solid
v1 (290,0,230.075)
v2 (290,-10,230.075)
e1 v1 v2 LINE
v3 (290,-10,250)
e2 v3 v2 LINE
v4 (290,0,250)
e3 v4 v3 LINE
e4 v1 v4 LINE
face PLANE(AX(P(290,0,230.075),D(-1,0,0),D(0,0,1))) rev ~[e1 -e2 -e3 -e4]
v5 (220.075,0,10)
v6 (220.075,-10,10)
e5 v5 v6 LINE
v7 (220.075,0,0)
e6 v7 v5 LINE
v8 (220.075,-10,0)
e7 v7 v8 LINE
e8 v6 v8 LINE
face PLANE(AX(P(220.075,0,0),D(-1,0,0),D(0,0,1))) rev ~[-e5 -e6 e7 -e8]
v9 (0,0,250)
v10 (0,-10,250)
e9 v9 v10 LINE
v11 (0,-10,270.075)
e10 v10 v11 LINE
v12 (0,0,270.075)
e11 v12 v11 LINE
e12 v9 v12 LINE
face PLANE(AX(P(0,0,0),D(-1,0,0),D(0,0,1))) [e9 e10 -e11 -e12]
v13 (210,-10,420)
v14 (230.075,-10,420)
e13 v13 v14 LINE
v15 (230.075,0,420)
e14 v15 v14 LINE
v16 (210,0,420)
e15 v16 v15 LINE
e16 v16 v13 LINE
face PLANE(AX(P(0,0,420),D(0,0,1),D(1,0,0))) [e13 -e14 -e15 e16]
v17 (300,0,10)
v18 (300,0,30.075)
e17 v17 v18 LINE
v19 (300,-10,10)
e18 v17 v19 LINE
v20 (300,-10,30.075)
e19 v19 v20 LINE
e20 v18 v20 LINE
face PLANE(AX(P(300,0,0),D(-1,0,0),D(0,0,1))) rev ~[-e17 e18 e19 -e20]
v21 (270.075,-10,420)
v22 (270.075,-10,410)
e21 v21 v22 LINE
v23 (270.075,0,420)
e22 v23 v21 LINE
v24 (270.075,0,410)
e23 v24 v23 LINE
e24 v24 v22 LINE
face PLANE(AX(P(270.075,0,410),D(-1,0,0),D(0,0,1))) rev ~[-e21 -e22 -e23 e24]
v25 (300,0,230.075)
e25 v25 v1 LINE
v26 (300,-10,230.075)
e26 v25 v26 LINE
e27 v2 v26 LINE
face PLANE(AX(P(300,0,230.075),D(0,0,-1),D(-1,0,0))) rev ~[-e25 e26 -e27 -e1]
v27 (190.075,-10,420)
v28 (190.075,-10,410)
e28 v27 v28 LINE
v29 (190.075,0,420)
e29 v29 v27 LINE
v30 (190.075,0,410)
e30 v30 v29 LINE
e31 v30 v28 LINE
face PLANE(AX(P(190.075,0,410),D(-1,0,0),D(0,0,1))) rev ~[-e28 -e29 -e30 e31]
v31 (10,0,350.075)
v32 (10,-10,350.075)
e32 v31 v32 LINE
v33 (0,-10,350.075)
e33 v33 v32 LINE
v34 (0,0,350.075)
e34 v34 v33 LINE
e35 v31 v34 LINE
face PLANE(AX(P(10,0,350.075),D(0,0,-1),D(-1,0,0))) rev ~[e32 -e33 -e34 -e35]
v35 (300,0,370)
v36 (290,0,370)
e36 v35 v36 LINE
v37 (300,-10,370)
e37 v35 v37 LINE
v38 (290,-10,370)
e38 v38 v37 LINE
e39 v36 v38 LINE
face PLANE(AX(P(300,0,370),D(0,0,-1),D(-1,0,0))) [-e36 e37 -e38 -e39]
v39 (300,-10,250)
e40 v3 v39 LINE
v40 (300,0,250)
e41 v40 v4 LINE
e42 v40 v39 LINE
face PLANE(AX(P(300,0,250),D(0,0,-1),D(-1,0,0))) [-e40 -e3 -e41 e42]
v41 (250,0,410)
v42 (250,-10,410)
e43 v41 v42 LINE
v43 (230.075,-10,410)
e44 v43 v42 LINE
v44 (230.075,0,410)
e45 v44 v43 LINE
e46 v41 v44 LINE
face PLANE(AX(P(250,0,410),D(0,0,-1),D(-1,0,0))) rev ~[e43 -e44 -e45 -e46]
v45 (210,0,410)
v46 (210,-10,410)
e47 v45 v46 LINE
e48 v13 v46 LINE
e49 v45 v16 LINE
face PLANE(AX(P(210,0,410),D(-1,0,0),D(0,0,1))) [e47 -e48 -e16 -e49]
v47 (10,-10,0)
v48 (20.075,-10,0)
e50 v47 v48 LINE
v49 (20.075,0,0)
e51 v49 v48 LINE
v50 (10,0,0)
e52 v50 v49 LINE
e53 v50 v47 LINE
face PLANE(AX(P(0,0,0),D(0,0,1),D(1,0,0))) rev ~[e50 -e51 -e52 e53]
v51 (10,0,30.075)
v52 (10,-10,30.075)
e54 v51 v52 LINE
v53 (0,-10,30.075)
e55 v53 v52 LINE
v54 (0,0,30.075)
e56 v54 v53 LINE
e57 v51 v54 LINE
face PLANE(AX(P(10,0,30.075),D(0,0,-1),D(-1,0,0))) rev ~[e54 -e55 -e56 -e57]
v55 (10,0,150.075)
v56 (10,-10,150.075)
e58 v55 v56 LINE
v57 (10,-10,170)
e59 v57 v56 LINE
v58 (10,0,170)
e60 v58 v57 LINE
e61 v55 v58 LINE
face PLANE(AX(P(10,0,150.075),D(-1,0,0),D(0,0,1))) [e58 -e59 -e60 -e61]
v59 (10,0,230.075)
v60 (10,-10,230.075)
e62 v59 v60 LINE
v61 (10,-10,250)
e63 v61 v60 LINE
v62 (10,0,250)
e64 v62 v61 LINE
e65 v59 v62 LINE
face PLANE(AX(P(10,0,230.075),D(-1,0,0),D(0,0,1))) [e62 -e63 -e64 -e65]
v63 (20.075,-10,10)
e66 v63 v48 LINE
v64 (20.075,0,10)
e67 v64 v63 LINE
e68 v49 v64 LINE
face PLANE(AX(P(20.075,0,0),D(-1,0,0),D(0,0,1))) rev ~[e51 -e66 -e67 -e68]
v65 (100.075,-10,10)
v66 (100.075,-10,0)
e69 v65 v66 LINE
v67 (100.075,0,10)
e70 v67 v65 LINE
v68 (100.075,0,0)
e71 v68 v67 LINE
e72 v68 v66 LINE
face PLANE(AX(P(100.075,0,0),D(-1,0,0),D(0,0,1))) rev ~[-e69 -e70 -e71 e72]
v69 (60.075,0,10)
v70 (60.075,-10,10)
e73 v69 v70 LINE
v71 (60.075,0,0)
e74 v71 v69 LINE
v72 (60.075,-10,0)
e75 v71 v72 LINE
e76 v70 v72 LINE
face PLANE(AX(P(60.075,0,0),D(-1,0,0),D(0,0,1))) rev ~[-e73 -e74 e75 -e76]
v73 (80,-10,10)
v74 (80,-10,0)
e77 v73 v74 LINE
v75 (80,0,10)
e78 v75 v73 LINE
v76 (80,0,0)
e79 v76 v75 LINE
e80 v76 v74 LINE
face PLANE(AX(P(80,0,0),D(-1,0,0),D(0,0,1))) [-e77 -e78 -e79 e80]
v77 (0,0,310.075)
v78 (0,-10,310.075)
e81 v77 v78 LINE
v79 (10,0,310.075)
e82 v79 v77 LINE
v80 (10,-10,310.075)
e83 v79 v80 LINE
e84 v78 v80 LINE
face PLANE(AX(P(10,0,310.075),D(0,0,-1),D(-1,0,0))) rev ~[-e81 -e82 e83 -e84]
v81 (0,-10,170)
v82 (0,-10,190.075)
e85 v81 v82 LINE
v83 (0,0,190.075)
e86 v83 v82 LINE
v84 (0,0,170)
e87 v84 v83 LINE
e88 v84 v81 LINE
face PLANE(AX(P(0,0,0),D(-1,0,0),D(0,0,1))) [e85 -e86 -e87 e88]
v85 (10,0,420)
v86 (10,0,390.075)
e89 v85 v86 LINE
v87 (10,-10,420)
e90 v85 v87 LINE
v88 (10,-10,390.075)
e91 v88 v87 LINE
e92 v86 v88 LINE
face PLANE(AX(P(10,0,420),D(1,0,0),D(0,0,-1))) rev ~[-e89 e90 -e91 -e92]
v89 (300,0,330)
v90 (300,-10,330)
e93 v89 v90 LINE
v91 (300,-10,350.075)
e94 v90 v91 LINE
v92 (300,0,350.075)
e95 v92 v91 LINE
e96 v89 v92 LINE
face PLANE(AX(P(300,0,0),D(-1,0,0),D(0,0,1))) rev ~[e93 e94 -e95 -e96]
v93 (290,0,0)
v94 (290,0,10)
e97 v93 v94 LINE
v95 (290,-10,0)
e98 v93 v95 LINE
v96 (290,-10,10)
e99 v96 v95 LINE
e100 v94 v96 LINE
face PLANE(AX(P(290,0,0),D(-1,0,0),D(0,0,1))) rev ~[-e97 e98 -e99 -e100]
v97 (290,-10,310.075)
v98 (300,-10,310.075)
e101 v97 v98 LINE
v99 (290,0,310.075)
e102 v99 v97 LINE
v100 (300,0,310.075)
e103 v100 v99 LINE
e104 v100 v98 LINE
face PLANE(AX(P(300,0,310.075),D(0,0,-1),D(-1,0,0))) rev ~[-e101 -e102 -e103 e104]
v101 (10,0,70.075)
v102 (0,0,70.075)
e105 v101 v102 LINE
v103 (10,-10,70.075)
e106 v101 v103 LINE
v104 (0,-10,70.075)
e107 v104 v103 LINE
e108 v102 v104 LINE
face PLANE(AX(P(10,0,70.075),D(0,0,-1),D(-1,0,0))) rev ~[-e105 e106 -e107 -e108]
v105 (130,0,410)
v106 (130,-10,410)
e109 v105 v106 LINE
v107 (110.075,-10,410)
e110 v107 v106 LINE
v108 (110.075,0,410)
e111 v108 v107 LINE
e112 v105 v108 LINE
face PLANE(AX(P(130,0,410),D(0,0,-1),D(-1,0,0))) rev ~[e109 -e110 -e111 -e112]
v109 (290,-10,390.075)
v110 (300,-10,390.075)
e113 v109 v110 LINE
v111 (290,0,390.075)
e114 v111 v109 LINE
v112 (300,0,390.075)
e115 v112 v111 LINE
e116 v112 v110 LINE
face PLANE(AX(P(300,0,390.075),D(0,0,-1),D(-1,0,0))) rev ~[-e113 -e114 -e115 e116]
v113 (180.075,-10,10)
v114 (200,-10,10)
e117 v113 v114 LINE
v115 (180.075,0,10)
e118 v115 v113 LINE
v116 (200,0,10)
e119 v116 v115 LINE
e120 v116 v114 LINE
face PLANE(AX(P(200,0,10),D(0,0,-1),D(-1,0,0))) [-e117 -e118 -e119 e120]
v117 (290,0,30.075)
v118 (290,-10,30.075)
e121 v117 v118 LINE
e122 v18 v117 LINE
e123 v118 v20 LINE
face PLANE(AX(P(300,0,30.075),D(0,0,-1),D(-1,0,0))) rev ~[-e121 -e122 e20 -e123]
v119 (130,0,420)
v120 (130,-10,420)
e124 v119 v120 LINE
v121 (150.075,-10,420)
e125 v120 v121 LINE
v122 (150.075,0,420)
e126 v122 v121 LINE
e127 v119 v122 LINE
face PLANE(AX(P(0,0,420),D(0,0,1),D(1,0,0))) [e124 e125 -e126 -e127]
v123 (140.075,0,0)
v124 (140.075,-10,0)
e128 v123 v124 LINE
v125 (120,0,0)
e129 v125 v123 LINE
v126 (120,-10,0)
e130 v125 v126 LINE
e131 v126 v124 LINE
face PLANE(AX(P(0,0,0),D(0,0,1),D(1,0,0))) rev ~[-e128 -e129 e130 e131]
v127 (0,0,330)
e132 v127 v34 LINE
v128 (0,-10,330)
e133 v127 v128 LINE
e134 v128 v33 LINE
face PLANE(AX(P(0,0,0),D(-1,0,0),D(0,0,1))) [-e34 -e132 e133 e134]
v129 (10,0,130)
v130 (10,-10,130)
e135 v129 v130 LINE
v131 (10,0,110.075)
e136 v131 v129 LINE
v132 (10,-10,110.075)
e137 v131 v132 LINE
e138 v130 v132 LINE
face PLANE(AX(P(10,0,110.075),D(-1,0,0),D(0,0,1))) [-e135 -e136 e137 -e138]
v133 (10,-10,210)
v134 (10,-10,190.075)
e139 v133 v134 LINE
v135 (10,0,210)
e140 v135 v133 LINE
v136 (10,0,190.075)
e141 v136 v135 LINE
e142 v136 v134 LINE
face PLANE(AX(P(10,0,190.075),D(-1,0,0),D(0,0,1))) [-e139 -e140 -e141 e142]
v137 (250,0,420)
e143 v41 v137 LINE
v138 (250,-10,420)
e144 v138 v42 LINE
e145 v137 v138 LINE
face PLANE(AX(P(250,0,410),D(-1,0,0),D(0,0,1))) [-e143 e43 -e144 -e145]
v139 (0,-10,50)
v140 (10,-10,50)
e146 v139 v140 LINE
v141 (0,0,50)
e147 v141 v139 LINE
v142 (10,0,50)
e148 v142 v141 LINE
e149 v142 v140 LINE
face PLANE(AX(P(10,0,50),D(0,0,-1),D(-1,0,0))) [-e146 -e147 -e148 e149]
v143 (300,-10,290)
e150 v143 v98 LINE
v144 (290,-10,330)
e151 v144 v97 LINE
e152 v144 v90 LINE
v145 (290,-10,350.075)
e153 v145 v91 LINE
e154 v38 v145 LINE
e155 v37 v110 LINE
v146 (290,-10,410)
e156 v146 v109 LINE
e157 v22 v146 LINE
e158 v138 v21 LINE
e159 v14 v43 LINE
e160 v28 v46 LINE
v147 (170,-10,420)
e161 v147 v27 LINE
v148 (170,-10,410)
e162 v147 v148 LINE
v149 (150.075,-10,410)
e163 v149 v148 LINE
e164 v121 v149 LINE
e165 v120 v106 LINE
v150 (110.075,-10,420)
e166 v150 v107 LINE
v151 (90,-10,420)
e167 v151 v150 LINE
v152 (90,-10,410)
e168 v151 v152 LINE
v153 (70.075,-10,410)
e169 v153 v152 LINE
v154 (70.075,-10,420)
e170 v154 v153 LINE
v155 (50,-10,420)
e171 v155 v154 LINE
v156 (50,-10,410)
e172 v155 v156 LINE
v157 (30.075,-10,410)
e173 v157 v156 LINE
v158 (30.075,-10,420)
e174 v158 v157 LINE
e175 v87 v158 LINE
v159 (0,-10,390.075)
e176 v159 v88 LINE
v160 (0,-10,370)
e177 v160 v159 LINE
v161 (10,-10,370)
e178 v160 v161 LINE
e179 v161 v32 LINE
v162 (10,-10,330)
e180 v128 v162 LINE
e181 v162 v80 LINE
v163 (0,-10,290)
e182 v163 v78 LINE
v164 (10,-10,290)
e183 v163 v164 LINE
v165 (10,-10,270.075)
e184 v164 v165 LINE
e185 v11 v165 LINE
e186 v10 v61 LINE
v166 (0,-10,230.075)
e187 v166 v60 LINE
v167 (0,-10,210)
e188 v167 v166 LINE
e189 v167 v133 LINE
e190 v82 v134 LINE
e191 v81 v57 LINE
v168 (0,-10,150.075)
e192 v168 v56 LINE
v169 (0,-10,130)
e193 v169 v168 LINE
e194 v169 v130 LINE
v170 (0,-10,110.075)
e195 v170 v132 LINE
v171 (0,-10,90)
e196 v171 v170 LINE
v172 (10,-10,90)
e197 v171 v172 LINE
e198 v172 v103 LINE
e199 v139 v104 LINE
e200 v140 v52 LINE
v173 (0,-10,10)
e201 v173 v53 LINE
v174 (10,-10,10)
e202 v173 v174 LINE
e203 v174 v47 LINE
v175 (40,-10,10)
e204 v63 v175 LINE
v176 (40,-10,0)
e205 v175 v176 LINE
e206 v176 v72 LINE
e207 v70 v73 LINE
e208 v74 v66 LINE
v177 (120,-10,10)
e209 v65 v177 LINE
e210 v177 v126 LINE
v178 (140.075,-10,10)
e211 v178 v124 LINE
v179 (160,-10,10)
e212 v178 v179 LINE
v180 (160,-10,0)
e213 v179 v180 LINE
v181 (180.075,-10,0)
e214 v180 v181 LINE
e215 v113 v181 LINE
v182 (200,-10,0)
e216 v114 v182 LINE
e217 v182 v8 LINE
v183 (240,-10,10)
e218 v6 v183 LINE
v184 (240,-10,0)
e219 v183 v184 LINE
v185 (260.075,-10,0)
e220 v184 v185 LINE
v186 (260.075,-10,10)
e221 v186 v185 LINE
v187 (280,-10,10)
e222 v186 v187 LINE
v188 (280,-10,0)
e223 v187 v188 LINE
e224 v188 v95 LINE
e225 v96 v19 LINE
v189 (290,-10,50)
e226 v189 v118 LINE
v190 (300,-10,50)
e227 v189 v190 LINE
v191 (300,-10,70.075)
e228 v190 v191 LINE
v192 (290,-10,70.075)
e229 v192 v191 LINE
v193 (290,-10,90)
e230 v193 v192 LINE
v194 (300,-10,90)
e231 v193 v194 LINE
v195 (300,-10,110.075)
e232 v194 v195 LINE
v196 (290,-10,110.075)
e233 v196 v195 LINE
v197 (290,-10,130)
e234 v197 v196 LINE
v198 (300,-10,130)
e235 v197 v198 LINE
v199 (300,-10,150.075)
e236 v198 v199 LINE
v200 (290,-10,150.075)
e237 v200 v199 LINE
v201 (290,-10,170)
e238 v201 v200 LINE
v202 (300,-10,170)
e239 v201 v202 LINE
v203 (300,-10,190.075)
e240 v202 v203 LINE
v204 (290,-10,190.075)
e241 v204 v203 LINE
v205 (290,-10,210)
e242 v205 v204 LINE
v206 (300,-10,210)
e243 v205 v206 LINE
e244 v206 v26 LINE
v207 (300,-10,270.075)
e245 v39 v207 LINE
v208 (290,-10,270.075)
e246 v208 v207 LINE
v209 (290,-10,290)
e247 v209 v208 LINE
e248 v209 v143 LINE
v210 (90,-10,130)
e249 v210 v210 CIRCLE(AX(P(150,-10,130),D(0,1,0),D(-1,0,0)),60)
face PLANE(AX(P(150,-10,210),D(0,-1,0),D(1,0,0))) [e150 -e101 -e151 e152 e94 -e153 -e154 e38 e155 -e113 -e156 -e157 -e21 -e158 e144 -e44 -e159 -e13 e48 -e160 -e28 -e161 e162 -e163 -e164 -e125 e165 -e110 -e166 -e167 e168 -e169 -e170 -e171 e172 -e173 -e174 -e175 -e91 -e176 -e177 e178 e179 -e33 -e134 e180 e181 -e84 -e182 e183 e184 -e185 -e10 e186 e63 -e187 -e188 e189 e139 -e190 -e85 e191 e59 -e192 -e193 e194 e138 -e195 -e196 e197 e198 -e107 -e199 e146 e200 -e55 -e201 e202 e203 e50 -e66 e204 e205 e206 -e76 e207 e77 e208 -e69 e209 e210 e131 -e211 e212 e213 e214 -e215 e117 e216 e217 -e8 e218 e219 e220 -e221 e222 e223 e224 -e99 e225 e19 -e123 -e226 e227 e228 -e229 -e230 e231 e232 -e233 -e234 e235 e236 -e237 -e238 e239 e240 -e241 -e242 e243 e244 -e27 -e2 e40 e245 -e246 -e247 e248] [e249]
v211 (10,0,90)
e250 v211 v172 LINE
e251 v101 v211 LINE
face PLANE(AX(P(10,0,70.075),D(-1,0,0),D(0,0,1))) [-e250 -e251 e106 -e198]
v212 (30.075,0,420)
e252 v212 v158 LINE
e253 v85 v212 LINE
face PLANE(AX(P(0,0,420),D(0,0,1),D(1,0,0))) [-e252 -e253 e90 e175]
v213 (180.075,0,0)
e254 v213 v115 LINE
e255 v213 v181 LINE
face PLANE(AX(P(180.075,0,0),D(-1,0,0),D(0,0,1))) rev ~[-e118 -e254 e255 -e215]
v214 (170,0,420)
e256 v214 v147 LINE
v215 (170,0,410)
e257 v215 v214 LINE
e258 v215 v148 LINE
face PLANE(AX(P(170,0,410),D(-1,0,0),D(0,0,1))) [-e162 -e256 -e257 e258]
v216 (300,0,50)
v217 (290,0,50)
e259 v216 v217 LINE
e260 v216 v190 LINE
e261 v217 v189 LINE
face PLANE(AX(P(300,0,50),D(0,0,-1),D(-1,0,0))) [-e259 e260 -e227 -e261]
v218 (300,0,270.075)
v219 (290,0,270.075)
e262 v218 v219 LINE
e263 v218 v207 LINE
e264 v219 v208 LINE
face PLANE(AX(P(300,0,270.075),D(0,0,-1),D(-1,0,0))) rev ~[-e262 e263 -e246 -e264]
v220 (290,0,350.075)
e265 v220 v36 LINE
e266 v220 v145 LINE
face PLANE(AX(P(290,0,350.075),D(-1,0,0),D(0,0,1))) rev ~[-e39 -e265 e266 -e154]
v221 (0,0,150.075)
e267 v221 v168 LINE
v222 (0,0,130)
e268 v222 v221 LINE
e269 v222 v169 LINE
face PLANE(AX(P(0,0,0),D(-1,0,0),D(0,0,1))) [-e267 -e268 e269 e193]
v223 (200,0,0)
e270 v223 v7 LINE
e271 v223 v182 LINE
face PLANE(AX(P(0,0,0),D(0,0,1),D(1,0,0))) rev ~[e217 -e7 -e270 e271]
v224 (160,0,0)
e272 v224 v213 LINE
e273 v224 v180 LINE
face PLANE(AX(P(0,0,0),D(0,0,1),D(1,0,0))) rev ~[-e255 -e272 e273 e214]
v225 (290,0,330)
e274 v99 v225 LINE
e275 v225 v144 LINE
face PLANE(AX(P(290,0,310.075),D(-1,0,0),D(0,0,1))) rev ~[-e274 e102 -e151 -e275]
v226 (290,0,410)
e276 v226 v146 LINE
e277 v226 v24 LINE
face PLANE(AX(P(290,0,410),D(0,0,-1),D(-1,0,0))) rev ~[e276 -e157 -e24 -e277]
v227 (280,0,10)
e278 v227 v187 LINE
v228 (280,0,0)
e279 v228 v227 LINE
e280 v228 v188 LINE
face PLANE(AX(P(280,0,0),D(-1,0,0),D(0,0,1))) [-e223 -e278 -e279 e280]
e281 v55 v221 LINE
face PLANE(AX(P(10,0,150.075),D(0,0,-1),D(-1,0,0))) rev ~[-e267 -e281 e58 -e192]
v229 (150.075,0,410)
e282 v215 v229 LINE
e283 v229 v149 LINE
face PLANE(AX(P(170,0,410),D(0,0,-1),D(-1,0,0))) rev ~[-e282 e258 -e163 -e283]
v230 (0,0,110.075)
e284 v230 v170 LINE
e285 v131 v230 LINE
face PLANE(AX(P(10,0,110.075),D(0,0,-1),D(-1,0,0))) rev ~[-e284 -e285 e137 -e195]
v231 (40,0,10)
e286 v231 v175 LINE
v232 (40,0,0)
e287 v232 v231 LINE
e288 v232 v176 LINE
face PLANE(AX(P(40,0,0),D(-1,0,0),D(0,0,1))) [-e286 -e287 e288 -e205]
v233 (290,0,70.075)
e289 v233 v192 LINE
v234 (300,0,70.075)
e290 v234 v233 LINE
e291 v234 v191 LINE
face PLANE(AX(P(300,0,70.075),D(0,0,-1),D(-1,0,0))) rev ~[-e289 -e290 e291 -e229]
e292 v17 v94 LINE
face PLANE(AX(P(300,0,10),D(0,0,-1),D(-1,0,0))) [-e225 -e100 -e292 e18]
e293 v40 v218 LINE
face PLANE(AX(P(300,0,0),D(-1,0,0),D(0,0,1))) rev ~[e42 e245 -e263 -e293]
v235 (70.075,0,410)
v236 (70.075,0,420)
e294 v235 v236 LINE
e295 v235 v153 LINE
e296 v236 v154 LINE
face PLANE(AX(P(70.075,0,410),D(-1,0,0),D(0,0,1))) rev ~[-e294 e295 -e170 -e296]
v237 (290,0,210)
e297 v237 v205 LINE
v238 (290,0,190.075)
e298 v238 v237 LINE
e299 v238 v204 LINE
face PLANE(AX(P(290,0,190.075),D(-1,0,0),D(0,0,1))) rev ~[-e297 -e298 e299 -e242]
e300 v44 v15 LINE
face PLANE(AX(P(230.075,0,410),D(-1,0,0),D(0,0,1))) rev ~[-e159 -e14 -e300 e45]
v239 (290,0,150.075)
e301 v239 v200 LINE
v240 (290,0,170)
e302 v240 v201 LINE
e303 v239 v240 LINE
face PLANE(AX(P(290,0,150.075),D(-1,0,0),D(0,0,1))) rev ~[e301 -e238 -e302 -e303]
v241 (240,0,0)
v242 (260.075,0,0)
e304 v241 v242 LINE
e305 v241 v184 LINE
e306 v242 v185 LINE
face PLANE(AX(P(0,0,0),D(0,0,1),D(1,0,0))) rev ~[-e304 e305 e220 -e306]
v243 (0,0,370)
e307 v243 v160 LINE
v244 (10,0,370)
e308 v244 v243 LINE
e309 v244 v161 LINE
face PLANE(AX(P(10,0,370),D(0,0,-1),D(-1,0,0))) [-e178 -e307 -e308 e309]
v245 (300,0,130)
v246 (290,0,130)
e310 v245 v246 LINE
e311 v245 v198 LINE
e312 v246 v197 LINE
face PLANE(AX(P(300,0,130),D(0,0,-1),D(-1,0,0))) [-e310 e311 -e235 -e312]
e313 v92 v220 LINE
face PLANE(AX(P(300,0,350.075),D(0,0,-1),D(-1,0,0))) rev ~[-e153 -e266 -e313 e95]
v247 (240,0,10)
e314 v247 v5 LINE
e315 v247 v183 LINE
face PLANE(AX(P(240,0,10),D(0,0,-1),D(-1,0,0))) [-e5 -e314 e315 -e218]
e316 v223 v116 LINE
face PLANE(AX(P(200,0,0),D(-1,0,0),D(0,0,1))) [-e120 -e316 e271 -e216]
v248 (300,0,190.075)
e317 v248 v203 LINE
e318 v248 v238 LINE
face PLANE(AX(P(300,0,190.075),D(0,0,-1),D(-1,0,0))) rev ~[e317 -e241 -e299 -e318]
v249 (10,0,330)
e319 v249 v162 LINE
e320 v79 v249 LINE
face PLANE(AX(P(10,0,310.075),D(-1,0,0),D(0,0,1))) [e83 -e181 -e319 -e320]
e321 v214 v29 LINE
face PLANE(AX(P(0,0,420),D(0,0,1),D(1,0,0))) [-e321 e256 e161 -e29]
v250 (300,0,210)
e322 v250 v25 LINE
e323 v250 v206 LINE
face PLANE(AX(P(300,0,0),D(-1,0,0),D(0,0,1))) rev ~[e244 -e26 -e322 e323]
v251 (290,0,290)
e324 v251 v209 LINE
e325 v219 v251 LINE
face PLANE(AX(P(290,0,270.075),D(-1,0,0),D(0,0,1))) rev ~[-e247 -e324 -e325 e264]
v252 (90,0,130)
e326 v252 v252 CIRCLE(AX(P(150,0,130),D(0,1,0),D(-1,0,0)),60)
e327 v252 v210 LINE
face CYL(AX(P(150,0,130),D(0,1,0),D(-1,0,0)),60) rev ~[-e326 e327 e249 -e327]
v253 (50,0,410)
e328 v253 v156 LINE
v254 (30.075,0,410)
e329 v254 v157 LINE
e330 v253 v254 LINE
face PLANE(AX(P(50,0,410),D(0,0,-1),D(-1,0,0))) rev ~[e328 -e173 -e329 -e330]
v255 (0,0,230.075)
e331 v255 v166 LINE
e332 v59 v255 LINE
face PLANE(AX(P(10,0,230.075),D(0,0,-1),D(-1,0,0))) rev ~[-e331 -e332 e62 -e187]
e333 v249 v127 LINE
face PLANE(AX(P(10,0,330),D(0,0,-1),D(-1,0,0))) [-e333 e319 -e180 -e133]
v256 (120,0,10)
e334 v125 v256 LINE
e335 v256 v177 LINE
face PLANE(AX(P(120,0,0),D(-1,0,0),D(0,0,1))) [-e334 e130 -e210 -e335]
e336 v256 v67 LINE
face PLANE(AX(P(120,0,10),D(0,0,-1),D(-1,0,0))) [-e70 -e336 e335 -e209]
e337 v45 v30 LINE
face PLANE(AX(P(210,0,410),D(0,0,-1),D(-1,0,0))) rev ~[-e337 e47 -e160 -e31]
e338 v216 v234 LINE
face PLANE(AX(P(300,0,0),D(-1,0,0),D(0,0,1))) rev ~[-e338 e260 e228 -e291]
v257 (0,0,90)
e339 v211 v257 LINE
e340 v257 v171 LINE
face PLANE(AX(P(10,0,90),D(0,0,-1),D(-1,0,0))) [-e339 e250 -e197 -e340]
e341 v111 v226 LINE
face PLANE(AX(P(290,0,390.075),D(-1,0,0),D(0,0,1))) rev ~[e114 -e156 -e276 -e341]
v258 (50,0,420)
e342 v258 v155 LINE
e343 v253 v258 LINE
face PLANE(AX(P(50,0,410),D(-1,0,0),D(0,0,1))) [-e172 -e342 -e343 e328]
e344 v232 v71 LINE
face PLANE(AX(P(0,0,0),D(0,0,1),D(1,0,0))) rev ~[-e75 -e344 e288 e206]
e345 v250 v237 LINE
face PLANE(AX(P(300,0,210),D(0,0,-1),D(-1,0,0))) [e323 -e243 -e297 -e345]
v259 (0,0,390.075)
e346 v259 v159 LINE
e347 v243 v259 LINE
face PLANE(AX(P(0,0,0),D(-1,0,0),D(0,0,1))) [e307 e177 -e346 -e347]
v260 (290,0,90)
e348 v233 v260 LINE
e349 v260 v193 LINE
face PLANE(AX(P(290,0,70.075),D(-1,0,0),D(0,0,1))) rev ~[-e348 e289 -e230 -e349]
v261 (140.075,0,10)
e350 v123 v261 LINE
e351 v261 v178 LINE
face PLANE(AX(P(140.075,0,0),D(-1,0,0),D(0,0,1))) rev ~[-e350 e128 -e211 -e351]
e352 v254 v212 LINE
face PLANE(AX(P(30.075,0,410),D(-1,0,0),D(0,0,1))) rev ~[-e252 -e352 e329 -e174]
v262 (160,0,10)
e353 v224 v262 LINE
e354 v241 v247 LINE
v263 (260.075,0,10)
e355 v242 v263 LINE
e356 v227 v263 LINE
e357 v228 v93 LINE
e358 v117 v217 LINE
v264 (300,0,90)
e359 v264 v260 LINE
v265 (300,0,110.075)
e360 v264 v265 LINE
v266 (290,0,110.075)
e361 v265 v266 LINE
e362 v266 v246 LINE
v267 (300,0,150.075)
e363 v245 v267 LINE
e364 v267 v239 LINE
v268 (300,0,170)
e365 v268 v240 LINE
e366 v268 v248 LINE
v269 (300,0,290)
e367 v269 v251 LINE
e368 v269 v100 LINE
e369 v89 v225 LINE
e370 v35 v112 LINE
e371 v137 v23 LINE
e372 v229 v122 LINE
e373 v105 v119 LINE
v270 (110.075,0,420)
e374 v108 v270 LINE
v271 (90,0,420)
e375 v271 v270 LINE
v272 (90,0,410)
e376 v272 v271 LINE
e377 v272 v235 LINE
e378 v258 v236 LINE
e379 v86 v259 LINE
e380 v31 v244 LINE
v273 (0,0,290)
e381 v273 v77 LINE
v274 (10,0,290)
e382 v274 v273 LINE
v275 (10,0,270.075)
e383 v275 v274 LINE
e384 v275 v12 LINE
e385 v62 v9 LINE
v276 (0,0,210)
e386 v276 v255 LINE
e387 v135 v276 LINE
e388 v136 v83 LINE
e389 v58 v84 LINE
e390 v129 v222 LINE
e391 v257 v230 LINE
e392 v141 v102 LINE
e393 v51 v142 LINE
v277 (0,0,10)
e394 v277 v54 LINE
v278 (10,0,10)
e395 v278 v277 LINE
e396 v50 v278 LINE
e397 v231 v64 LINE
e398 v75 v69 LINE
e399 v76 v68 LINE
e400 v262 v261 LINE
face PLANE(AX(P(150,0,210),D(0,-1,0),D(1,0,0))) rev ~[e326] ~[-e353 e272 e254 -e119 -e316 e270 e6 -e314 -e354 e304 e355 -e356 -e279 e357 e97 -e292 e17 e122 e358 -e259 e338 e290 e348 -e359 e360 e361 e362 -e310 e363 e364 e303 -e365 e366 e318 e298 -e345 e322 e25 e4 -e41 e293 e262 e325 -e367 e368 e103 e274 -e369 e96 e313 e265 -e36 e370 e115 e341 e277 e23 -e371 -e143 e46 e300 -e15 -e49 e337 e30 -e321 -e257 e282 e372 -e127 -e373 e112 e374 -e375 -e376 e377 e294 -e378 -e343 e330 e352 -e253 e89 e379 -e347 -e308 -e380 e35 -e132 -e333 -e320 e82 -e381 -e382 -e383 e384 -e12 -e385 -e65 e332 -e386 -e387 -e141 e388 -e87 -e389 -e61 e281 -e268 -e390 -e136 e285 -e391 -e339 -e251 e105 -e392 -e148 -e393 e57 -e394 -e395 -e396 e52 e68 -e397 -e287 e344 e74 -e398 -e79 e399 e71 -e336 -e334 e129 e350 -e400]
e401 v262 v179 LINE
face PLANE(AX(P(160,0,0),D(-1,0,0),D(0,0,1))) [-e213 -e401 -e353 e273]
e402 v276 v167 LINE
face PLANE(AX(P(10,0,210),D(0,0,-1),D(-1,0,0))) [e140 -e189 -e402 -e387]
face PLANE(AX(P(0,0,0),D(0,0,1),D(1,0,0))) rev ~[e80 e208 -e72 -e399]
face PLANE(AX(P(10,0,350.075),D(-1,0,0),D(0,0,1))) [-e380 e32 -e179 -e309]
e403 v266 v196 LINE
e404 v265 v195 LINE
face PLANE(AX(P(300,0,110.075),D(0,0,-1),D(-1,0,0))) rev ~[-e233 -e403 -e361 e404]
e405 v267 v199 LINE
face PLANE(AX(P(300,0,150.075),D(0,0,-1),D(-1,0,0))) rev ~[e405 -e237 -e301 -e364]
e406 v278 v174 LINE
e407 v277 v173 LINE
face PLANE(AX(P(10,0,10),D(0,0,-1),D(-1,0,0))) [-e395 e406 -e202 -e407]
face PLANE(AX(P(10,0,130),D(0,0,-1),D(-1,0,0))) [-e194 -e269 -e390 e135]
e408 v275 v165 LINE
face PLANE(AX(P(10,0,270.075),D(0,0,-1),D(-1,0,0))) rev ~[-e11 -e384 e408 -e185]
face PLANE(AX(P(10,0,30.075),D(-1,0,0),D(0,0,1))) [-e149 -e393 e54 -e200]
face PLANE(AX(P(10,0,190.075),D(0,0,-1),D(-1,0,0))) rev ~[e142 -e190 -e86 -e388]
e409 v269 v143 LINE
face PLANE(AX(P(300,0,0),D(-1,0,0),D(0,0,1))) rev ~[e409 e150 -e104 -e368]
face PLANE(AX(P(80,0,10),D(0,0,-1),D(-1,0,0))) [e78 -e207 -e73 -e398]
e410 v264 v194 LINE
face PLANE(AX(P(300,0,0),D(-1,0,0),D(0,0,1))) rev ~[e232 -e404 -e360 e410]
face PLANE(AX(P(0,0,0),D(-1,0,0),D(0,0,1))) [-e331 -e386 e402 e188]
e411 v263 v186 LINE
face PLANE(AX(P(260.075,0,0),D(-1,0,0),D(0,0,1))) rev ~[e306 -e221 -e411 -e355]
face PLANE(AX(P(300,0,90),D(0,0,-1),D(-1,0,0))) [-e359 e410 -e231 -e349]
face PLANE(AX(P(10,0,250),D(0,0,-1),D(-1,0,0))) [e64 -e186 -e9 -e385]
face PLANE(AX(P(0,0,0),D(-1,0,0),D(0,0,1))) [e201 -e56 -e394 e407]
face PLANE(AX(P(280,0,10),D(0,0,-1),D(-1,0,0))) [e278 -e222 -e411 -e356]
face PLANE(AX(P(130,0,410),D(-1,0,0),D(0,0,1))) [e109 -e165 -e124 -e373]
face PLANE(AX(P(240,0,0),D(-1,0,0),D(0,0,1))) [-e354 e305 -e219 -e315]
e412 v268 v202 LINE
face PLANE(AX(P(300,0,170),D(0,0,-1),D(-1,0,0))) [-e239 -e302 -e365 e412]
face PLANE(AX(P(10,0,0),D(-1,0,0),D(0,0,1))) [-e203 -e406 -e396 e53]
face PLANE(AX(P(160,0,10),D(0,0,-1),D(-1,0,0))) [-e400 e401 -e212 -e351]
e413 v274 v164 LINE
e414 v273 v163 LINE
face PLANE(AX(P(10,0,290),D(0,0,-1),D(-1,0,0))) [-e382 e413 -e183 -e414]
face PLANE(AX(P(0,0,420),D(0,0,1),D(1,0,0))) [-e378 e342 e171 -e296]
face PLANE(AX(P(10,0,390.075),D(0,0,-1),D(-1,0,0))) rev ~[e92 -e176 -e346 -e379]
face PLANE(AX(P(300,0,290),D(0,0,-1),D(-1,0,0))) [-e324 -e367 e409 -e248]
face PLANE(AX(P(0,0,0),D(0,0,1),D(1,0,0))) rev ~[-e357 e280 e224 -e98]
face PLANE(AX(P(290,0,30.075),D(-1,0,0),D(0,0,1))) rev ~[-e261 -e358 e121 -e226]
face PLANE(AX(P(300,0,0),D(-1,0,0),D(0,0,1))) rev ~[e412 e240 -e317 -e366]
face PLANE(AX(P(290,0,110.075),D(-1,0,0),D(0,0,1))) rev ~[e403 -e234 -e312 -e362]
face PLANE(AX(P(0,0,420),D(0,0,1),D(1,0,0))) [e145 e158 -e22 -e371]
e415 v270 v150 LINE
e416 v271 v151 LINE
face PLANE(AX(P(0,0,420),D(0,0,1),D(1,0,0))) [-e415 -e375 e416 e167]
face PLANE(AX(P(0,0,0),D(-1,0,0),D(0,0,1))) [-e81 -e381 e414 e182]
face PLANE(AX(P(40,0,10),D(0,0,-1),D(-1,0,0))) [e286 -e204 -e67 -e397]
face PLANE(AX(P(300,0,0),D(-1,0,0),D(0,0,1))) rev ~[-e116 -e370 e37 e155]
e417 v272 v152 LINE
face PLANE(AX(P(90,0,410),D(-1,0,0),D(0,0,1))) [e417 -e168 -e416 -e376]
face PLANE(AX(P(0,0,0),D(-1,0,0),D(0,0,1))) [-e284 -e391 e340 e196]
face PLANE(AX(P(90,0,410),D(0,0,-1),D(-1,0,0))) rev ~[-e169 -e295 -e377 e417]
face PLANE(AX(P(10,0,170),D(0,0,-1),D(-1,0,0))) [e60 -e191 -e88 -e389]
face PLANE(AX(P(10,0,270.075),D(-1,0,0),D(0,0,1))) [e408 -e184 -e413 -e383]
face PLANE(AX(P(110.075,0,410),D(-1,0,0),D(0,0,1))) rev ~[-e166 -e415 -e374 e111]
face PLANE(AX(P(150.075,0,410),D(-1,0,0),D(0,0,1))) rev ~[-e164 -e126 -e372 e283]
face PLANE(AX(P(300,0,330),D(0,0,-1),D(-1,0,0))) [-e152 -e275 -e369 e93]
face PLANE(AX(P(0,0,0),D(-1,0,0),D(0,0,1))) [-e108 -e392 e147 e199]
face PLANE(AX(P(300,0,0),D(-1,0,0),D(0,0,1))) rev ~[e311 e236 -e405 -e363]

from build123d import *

# Parameters (mm, degrees)
F0_W     = 300
F0_H     = 420
F1_DEPTH = 10
F2_W     = 10
F2_H     = 10
F2_W_2   = 19.925
F2_H_2   = 19.925
F3_DEPTH = 10.001
F4_R     = 60
F5_DEPTH = 10.001


with BuildPart() as f1:
    # F0 (on Front) → F1 (new body)
    with BuildSketch(Plane.XZ):
        with Locations((150, 210)):
            Rectangle(F0_W, F0_H)
    extrude(amount=F1_DEPTH)

    # F2 (on face) → F3 (cut, through all)
    with BuildSketch(Plane(origin=(0, 0, 0), x_dir=(-1, 0, 0), z_dir=(0, 1, 0))):
        with Locations((-295, 5)):
            Rectangle(F2_W, F2_H)
        with Locations((-270.0375, 5)):
            Rectangle(F2_W_2, F2_H)
        with Locations((-230.0375, 5)):
            Rectangle(F2_W_2, F2_H)
        with Locations((-190.0375, 5)):
            Rectangle(F2_W_2, F2_H)
        with Locations((-150.0375, 5)):
            Rectangle(F2_W_2, F2_H)
        with Locations((-110.0375, 5)):
            Rectangle(F2_W_2, F2_H)
        with Locations((-70.0375, 5)):
            Rectangle(F2_W_2, F2_H)
        with Locations((-30.0375, 5)):
            Rectangle(F2_W_2, F2_H)
        with Locations((-5, 5)):
            Rectangle(F2_W, F2_H)
        with Locations((-295, 40.0375)):
            Rectangle(F2_W, F2_H_2)
        with Locations((-295, 80.0375)):
            Rectangle(F2_W, F2_H_2)
        with Locations((-295, 120.0375)):
            Rectangle(F2_W, F2_H_2)
        with Locations((-295, 160.0375)):
            Rectangle(F2_W, F2_H_2)
        with Locations((-295, 200.0375)):
            Rectangle(F2_W, F2_H_2)
        with Locations((-295, 240.0375)):
            Rectangle(F2_W, F2_H_2)
        with Locations((-295, 280.0375)):
            Rectangle(F2_W, F2_H_2)
        with Locations((-295, 320.0375)):
            Rectangle(F2_W, F2_H_2)
        with Locations((-295, 360.0375)):
            Rectangle(F2_W, F2_H_2)
        with Locations((-295, 400.0375)):
            Rectangle(F2_W, F2_H_2)
        with Locations((-295, 415)):
            Rectangle(F2_W, F2_H)
        with Locations((-280.0375, 415)):
            Rectangle(F2_W_2, F2_H)
        with Locations((-240.0375, 415)):
            Rectangle(F2_W_2, F2_H)
        with Locations((-200.0375, 415)):
            Rectangle(F2_W_2, F2_H)
        with Locations((-160.0375, 415)):
            Rectangle(F2_W_2, F2_H)
        with Locations((-120.0375, 415)):
            Rectangle(F2_W_2, F2_H)
        with Locations((-80.0375, 415)):
            Rectangle(F2_W_2, F2_H)
        with Locations((-40.0375, 415)):
            Rectangle(F2_W_2, F2_H)
        Polygon((9.925, 420), (-10, 420), (-10, 410), (0, 410), (9.925, 410), align=None)
        with Locations((-5, 400.0375)):
            Rectangle(F2_W, F2_H_2)
        with Locations((-5, 360.0375)):
            Rectangle(F2_W, F2_H_2)
        with Locations((-5, 320.0375)):
            Rectangle(F2_W, F2_H_2)
        with Locations((-5, 280.0375)):
            Rectangle(F2_W, F2_H_2)
        with Locations((-5, 240.0375)):
            Rectangle(F2_W, F2_H_2)
        with Locations((-5, 200.0375)):
            Rectangle(F2_W, F2_H_2)
        with Locations((-5, 160.0375)):
            Rectangle(F2_W, F2_H_2)
        with Locations((-5, 120.0375)):
            Rectangle(F2_W, F2_H_2)
        with Locations((-5, 80.0375)):
            Rectangle(F2_W, F2_H_2)
        with Locations((-5, 40.0375)):
            Rectangle(F2_W, F2_H_2)
    extrude(amount=-F3_DEPTH, mode=Mode.SUBTRACT)

    # F4 (on face) → F5 (cut, through all)
    with BuildSketch(Plane(origin=(0, 0, 0), x_dir=(-1, 0, 0), z_dir=(0, 1, 0))):
        with Locations((-150, 130)):
            Circle(F4_R)
    extrude(amount=-F5_DEPTH, mode=Mode.SUBTRACT)


solid = f1.part
